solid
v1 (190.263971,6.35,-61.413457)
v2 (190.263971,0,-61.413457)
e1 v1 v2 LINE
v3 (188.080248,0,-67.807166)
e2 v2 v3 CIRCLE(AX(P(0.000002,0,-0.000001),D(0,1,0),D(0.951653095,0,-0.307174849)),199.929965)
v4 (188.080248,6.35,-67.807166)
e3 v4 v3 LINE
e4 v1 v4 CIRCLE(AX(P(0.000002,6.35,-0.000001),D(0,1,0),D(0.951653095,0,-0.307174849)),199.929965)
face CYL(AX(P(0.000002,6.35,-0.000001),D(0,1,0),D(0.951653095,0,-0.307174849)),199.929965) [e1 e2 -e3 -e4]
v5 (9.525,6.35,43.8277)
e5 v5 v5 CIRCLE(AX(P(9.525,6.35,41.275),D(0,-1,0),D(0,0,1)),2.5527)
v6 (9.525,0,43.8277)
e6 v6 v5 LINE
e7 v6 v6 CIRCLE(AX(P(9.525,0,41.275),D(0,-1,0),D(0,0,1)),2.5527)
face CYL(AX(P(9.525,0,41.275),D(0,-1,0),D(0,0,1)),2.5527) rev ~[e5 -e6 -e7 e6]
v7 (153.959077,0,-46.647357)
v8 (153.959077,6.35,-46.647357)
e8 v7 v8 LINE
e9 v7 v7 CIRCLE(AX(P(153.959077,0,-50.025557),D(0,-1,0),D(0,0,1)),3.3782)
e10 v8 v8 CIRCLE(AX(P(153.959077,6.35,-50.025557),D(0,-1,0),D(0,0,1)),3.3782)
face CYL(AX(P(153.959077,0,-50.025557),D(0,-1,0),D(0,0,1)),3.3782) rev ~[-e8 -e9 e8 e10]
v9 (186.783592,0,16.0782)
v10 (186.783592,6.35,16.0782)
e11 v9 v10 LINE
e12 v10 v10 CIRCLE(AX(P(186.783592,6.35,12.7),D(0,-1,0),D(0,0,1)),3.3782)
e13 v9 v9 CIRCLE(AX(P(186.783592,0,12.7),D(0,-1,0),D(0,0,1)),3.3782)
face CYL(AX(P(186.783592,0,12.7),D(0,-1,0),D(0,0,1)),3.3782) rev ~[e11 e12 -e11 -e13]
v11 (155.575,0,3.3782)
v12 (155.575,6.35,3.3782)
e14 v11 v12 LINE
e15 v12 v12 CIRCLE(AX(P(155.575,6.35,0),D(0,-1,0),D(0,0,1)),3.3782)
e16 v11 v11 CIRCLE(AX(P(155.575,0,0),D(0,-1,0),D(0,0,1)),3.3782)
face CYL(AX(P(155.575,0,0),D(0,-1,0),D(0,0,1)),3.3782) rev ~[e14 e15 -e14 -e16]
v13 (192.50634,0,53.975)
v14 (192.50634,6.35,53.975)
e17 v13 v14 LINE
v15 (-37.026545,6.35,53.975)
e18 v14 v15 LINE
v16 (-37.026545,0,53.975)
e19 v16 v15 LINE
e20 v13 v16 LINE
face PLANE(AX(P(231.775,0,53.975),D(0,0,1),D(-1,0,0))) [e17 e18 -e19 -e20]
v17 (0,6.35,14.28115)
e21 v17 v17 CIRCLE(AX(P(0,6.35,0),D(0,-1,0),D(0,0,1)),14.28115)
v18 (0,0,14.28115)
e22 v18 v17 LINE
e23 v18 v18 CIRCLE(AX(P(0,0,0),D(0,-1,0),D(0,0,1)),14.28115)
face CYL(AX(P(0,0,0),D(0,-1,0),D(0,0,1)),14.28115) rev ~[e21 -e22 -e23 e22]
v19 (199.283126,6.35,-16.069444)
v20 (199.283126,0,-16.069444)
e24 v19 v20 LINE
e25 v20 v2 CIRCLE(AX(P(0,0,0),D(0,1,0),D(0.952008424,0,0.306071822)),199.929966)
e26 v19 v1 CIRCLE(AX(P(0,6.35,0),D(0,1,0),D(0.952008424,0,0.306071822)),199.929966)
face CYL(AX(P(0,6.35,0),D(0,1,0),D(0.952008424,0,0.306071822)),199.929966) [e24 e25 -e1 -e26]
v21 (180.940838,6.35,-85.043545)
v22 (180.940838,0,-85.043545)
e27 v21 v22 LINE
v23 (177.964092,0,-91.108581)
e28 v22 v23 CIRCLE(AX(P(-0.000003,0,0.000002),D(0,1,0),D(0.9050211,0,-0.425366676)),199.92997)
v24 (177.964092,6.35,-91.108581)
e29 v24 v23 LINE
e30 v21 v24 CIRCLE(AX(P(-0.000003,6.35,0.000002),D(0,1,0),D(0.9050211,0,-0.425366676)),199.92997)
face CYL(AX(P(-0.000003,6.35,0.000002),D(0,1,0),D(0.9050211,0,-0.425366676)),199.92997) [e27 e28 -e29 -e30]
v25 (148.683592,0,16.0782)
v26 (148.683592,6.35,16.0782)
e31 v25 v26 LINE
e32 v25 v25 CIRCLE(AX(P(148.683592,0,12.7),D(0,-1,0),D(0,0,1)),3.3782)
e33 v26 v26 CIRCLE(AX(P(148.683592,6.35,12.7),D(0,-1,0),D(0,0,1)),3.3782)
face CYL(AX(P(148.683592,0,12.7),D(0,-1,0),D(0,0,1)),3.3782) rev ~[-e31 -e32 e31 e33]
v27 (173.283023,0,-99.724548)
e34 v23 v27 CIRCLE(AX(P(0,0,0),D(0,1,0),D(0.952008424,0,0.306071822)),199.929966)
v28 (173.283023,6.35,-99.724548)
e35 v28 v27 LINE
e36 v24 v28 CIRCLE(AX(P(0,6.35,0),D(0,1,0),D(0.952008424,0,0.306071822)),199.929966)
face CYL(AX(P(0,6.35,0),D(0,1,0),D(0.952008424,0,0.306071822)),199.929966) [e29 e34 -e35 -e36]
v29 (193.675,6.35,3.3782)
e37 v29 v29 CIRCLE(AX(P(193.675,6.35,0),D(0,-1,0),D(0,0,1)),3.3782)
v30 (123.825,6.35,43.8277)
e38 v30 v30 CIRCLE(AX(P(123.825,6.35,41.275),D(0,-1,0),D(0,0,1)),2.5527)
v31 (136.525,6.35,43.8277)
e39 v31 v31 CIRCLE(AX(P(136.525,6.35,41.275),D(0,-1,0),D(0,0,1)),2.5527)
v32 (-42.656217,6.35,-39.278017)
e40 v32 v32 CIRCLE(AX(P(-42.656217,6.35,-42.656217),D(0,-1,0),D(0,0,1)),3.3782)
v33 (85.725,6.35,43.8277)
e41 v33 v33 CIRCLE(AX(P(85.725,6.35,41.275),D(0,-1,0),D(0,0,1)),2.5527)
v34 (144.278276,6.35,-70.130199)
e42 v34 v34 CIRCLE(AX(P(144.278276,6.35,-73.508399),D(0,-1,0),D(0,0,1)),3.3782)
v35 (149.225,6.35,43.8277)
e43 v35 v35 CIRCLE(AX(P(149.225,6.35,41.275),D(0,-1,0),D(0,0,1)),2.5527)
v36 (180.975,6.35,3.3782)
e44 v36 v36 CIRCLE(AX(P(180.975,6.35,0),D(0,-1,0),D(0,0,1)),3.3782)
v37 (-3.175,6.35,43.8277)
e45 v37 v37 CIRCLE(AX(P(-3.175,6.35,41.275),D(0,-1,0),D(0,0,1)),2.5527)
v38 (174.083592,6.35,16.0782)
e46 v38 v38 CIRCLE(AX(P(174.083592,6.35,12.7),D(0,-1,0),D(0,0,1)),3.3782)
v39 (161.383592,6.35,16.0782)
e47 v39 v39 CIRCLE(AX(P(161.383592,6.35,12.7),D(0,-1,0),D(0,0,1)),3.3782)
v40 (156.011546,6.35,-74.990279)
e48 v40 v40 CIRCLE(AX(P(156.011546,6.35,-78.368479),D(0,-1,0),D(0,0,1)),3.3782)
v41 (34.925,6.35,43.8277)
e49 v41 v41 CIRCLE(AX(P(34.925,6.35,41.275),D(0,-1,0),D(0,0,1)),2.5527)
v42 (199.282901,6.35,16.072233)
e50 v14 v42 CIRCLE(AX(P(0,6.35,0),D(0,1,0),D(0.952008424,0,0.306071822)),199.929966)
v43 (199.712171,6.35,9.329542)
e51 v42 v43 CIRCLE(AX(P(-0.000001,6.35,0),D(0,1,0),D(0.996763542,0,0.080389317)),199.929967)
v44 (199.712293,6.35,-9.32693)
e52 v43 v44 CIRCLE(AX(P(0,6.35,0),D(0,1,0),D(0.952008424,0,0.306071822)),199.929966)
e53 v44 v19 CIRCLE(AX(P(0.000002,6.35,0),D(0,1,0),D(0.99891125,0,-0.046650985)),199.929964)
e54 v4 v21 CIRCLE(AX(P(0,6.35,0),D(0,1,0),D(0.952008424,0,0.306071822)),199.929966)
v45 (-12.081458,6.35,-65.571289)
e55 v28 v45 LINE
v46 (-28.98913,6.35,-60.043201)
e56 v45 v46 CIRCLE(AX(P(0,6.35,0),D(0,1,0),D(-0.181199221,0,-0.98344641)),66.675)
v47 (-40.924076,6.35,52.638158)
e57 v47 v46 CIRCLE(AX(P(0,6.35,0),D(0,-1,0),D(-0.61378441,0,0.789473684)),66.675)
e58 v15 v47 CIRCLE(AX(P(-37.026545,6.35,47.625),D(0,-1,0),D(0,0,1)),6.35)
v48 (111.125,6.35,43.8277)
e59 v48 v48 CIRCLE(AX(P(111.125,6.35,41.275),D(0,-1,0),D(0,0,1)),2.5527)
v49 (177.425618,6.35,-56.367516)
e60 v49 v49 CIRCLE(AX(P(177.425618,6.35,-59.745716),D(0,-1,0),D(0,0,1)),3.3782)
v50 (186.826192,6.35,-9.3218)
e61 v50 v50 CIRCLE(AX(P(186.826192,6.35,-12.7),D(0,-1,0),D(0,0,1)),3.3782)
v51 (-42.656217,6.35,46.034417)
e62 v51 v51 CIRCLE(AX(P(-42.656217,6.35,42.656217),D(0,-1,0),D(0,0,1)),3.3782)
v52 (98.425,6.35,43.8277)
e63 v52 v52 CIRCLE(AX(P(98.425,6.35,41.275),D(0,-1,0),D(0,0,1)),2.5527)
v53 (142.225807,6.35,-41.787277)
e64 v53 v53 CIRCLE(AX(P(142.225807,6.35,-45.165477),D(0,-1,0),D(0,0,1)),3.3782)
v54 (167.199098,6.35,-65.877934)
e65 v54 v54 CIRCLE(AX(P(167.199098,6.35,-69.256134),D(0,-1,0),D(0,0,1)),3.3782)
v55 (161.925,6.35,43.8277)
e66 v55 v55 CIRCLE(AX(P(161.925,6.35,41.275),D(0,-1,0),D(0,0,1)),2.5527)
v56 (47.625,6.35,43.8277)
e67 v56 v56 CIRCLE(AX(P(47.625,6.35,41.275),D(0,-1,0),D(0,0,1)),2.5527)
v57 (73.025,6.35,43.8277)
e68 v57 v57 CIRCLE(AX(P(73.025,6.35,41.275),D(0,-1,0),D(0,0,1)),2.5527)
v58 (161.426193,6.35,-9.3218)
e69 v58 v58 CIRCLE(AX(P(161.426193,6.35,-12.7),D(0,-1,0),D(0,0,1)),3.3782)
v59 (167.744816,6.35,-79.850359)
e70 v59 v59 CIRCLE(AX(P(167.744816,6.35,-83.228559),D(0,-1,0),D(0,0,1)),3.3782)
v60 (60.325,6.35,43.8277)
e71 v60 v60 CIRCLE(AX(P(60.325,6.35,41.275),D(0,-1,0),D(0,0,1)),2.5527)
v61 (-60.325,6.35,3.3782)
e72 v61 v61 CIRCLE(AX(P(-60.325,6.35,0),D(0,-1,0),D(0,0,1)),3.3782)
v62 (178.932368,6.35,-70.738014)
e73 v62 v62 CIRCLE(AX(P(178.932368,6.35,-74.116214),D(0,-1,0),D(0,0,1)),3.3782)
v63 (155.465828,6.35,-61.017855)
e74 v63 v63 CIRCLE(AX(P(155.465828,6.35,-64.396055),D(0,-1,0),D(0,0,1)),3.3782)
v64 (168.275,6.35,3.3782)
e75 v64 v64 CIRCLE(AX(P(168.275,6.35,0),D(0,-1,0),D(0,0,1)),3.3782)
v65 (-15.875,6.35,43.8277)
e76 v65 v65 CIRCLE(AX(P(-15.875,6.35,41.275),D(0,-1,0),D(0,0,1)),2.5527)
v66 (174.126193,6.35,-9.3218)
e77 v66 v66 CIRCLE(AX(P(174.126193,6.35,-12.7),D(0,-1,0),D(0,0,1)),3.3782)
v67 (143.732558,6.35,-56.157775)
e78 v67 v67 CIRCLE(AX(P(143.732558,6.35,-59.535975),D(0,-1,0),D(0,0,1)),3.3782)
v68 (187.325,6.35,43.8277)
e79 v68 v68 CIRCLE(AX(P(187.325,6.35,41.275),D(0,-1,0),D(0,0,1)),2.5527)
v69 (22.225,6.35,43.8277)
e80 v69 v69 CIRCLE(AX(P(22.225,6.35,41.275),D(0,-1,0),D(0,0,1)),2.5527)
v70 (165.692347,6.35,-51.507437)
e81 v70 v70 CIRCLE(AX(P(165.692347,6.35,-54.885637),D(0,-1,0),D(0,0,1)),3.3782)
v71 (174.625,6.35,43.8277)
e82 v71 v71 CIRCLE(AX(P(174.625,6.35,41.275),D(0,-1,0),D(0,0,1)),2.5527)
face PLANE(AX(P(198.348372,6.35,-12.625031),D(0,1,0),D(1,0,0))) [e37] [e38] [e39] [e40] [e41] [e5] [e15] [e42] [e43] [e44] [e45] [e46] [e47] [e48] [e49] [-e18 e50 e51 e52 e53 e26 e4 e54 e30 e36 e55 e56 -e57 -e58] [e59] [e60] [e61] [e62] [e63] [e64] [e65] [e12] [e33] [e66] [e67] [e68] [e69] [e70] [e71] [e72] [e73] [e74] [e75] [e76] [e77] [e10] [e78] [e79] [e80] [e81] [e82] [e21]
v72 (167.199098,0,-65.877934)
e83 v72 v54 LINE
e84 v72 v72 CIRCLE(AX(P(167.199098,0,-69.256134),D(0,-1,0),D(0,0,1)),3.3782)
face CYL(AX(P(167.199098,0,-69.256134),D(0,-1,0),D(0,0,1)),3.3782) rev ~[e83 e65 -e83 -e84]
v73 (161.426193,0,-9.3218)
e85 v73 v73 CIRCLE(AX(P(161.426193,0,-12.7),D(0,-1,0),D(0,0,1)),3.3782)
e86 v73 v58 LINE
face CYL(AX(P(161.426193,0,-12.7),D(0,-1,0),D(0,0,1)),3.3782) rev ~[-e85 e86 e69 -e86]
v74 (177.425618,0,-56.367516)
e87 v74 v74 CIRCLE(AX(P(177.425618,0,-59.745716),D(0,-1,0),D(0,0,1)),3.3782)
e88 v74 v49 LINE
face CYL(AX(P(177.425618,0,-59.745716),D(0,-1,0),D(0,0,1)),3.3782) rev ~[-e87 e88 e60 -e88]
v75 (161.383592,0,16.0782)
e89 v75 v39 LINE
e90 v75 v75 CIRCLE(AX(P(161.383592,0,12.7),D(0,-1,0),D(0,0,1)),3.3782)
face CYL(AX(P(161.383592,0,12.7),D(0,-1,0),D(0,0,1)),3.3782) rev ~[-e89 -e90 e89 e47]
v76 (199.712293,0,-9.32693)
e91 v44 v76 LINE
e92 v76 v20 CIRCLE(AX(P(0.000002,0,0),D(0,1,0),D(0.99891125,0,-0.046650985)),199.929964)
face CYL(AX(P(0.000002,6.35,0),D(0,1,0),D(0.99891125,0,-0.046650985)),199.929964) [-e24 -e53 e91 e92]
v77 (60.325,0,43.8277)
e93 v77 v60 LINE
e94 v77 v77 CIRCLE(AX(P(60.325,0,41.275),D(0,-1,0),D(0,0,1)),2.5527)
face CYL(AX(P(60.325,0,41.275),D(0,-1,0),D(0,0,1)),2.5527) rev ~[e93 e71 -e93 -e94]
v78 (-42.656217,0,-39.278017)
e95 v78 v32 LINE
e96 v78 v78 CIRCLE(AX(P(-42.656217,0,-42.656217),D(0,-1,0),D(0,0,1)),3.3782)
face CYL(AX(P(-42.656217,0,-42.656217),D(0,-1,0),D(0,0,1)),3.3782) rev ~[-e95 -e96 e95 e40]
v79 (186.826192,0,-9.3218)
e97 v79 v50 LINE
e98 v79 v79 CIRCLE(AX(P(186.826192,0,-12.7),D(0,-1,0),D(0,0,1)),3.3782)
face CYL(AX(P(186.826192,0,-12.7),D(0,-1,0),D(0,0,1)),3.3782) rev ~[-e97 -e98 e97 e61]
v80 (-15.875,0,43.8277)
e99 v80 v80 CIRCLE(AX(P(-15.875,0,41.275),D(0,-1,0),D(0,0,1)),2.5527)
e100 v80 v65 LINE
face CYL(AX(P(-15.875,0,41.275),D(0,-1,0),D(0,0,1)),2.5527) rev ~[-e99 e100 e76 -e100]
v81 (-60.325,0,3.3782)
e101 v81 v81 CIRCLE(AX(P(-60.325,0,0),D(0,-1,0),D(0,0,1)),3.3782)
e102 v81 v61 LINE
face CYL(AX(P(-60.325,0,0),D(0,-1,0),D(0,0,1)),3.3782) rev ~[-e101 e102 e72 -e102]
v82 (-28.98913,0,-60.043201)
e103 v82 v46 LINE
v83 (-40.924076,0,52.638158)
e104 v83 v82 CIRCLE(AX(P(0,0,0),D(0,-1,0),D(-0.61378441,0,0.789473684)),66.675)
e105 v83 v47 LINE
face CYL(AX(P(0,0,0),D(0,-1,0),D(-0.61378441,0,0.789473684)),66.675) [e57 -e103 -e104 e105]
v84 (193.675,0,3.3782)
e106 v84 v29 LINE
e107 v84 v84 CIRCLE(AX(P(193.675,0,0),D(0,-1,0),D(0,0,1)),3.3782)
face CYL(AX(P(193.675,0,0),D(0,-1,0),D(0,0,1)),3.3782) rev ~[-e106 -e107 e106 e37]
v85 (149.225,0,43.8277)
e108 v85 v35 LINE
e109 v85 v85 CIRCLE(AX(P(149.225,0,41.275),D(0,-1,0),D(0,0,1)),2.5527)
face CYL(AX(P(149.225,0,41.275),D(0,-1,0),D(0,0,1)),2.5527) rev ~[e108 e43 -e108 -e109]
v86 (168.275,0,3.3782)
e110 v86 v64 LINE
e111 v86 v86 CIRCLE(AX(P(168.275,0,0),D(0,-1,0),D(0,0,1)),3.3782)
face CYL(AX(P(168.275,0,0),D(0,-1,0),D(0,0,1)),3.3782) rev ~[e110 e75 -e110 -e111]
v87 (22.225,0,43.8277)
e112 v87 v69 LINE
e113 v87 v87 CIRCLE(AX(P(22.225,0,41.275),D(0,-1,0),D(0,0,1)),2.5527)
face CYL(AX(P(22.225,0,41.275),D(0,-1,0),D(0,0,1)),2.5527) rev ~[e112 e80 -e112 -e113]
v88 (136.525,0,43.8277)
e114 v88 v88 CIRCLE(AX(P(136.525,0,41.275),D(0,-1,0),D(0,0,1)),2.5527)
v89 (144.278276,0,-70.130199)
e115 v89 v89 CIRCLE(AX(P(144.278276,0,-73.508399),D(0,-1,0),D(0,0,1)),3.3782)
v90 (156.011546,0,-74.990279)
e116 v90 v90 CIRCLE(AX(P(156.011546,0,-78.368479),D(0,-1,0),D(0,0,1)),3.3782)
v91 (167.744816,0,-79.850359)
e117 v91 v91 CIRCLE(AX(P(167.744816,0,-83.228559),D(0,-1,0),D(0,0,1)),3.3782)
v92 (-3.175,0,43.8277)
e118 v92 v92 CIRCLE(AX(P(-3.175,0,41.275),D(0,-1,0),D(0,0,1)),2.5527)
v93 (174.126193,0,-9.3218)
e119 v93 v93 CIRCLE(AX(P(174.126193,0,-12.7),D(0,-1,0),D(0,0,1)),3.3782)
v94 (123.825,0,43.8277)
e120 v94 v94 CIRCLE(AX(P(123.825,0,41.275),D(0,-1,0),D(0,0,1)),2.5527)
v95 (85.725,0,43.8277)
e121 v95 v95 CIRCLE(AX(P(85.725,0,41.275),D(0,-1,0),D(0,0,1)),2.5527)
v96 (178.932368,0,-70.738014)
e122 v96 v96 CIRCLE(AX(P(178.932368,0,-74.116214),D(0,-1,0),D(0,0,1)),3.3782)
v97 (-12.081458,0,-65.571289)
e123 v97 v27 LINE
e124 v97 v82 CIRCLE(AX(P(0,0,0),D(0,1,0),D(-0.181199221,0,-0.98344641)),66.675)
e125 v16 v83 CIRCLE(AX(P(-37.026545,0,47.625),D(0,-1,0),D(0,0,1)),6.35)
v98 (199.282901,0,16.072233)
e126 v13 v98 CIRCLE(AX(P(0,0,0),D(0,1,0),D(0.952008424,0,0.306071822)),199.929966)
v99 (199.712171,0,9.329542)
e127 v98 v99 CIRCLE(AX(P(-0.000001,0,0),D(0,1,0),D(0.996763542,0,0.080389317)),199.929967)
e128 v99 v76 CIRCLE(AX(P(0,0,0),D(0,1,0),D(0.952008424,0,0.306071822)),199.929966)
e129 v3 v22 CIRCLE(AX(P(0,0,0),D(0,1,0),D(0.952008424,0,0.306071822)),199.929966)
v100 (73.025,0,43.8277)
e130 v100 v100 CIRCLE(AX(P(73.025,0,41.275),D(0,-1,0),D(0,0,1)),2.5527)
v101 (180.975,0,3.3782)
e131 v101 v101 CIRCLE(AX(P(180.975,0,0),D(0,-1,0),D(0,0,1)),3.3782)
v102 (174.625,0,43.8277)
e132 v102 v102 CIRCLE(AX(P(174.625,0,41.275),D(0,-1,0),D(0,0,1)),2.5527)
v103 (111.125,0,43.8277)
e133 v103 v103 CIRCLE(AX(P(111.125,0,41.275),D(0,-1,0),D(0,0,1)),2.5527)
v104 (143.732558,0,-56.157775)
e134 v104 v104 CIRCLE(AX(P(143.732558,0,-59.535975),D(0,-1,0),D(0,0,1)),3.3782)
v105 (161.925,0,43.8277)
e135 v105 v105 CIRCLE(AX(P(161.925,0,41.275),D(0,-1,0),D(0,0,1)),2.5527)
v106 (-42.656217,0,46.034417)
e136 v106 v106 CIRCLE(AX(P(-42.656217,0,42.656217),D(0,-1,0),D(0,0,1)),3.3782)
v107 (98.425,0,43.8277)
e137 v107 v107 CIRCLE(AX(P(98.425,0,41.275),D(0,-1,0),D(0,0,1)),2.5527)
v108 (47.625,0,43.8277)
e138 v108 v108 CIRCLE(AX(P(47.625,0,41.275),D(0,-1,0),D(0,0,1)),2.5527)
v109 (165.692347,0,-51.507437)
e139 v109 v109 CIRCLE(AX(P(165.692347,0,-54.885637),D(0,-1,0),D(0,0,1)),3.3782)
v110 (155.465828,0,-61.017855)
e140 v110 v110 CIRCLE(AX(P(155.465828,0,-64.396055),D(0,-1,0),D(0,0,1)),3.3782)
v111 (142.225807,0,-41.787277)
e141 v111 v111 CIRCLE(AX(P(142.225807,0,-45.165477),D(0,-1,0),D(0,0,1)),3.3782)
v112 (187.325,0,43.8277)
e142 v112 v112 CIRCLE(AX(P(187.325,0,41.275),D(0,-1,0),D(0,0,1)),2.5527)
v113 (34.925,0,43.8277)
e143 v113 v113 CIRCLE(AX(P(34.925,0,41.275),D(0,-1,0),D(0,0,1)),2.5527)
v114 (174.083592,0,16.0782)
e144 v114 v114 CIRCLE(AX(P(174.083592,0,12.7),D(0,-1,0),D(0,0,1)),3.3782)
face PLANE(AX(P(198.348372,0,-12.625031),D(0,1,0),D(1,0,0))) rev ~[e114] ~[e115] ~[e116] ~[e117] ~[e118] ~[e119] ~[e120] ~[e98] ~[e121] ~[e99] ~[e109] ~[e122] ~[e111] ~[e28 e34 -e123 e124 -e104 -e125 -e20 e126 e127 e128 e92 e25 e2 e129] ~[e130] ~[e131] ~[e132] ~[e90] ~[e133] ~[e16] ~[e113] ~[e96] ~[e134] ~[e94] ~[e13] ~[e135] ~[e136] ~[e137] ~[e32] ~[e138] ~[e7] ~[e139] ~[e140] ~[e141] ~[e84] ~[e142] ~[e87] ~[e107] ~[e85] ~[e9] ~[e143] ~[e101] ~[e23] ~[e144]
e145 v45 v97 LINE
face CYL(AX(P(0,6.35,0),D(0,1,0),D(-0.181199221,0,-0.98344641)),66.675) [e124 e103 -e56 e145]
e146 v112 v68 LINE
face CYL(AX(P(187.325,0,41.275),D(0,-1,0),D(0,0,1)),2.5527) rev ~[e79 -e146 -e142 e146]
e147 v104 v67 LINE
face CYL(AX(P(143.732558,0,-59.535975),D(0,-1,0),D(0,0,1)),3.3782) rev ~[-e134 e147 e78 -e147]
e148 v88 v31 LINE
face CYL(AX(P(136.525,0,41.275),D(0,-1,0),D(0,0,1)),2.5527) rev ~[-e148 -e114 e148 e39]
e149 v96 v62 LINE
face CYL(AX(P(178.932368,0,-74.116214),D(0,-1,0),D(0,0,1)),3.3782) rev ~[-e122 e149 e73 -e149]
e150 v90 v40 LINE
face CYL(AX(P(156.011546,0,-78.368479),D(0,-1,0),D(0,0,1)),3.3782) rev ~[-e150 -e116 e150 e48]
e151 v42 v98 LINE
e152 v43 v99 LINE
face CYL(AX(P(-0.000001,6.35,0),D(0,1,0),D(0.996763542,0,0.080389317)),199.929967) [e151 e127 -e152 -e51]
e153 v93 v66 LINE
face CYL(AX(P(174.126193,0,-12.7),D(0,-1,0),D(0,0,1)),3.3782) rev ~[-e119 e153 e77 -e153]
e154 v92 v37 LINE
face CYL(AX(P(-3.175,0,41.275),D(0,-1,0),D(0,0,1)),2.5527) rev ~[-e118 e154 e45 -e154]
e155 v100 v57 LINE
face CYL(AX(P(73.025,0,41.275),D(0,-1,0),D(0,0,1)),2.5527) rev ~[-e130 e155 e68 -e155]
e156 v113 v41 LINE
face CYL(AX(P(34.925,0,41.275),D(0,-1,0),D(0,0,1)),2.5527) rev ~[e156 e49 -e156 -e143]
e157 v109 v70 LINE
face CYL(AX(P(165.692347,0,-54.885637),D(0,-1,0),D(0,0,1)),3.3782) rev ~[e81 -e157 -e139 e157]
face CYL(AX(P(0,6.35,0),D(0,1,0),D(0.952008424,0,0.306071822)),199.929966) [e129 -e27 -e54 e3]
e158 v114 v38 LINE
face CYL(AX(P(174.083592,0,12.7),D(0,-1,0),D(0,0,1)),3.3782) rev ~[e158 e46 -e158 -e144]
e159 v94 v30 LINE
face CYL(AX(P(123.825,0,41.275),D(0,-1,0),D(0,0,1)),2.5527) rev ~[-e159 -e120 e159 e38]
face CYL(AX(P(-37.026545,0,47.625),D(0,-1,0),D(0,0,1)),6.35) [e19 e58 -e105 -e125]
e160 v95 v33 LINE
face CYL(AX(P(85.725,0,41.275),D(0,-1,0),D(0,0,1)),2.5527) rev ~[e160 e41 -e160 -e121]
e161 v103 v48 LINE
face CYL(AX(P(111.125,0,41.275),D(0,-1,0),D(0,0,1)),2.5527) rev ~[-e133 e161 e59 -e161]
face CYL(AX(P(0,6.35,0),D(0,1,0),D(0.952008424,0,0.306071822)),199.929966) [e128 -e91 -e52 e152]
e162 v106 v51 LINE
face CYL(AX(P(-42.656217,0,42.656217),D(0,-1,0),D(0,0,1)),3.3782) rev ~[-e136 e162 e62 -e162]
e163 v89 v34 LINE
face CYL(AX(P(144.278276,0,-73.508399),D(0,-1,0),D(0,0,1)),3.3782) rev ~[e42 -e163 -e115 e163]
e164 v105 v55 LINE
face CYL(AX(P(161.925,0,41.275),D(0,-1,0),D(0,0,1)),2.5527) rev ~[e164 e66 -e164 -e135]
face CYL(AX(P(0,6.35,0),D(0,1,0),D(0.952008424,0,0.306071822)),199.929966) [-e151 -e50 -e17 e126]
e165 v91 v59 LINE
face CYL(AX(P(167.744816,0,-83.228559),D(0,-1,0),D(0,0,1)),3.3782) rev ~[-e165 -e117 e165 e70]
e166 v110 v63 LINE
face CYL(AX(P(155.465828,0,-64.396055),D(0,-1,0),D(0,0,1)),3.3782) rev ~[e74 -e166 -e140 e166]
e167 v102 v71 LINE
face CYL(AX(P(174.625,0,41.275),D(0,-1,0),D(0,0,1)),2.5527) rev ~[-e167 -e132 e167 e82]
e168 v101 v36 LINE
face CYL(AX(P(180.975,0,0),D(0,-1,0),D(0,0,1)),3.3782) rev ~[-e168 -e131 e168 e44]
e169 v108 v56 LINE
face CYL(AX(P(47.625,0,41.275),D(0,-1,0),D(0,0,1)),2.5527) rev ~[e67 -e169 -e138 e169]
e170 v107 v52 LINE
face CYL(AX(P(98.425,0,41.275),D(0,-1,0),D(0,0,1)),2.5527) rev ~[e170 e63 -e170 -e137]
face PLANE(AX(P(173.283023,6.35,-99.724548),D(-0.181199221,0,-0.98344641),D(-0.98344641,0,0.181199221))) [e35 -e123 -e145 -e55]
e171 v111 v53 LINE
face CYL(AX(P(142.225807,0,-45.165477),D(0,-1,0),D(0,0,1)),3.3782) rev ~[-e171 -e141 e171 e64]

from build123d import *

# Parameters (mm, degrees)
SKETCH1_R           = 3.3782
SKETCH1_R_2         = 14.28115
SKETCH1_R_3         = 2.5527
SKETCH1_R_4         = 9.5885
SKETCH1_R_5         = 19.177
SKETCH1_R_6         = 4.1275
BOSS_EXTRUDE1_DEPTH = 6.35
SKETCH2_R           = 19.177
SKETCH2_R_2         = 2.5527
SKETCH2_R_3         = 4.1275
SKETCH2_R_4         = 9.5885
BOSS_EXTRUDE2_DEPTH = 6.35
CUT_EXTRUDE1_DEPTH  = 337.819467594
BOSS_EXTRUDE3_DEPTH = 6.35


with BuildPart() as part:
    # Sketch1 → Boss-Extrude1 (new body)
    with BuildSketch(Plane.XZ):
        with BuildLine():
            Line((231.775, 53.975), (-37.026544532, 53.975))
            ThreePointArc((-37.026544532, 53.975), (-39.086756581, 53.631498674), (-40.924075536, 52.638157895))
            ThreePointArc((-40.924075536, 52.638157895), (-66.304119268, -7.022776738), (-28.989130435, -60.043200628))
            ThreePointArc((-28.989130435, -60.043200628), (-26.371616333, -62.385880153), (-25.4, -65.761600688))
            Line((-25.4, -65.761600688), (-25.4, -230.990796624))
            ThreePointArc((-25.4, -230.990796624), (-23.721010495, -235.292442932), (-19.571917808, -237.3193116))
            ThreePointArc((-19.571917808, -237.3193116), (161.311736549, -175.162893549), (238.125, 0))
            Line((238.125, 0), (238.125, 47.625))
            ThreePointArc((238.125, 47.625), (236.265128061, 52.115128061), (231.775, 53.975))
        make_face()
        with Locations(Location((-60.325, 0, 0), (0, 0, 90))):
            Circle(SKETCH1_R, mode=Mode.SUBTRACT)
        with Locations(Location((-42.656216575, 42.656216575, 0), (0, 0, 90))):
            Circle(SKETCH1_R, mode=Mode.SUBTRACT)
        with Locations(Location((-42.656216575, -42.656216575, 0), (0, 0, 90))):
            Circle(SKETCH1_R, mode=Mode.SUBTRACT)
        with Locations(Location((0, -155.575, 0), (0, 0, 90))):
            Circle(SKETCH1_R, mode=Mode.SUBTRACT)
        with Locations(Location((0, -168.275, 0), (0, 0, 90))):
            Circle(SKETCH1_R, mode=Mode.SUBTRACT)
        with Locations(Location((0, -180.975, 0), (0, 0, 90))):
            Circle(SKETCH1_R, mode=Mode.SUBTRACT)
        with Locations(Location((0, -193.675, 0), (0, 0, 90))):
            Circle(SKETCH1_R, mode=Mode.SUBTRACT)
        with Locations(Location((0, -206.375, 0), (0, 0, 90))):
            Circle(SKETCH1_R, mode=Mode.SUBTRACT)
        with Locations(Location((0, -219.075, 0), (0, 0, 90))):
            Circle(SKETCH1_R, mode=Mode.SUBTRACT)
        with Locations(Location((59.53597499, -143.73255827, 0), (0, 0, 90))):
            Circle(SKETCH1_R, mode=Mode.SUBTRACT)
        with Locations(Location((64.396054581, -155.465828333, 0), (0, 0, 90))):
            Circle(SKETCH1_R, mode=Mode.SUBTRACT)
        with Locations(Location((69.256134172, -167.199098396, 0), (0, 0, 90))):
            Circle(SKETCH1_R, mode=Mode.SUBTRACT)
        with Locations(Location((74.116213763, -178.932368459, 0), (0, 0, 90))):
            Circle(SKETCH1_R, mode=Mode.SUBTRACT)
        with Locations(Location((78.976293354, -190.665638522, 0), (0, 0, 90))):
            Circle(SKETCH1_R, mode=Mode.SUBTRACT)
        with Locations(Location((83.836372945, -202.398908585, 0), (0, 0, 90))):
            Circle(SKETCH1_R, mode=Mode.SUBTRACT)
        with Locations(Location((110.008137483, -110.008137483, 0), (0, 0, 90))):
            Circle(SKETCH1_R, mode=Mode.SUBTRACT)
        with Locations(Location((118.988393604, -118.988393604, 0), (0, 0, 90))):
            Circle(SKETCH1_R, mode=Mode.SUBTRACT)
        with Locations(Location((127.968649725, -127.968649725, 0), (0, 0, 90))):
            Circle(SKETCH1_R, mode=Mode.SUBTRACT)
        with Locations(Location((136.948905846, -136.948905846, 0), (0, 0, 90))):
            Circle(SKETCH1_R, mode=Mode.SUBTRACT)
        with Locations(Location((145.929161967, -145.929161967, 0), (0, 0, 90))):
            Circle(SKETCH1_R, mode=Mode.SUBTRACT)
        with Locations(Location((154.909418088, -154.909418088, 0), (0, 0, 90))):
            Circle(SKETCH1_R, mode=Mode.SUBTRACT)
        with Locations(Location((143.73255827, -59.53597499, 0), (0, 0, 90))):
            Circle(SKETCH1_R, mode=Mode.SUBTRACT)
        with Locations(Location((155.465828333, -64.396054581, 0), (0, 0, 90))):
            Circle(SKETCH1_R, mode=Mode.SUBTRACT)
        with Locations(Location((167.199098396, -69.256134172, 0), (0, 0, 90))):
            Circle(SKETCH1_R, mode=Mode.SUBTRACT)
        with Locations(Location((178.932368459, -74.116213763, 0), (0, 0, 90))):
            Circle(SKETCH1_R, mode=Mode.SUBTRACT)
        with Locations(Location((190.665638522, -78.976293354, 0), (0, 0, 90))):
            Circle(SKETCH1_R, mode=Mode.SUBTRACT)
        with Locations(Location((202.398908585, -83.836372945, 0), (0, 0, 90))):
            Circle(SKETCH1_R, mode=Mode.SUBTRACT)
        with Locations(Location((155.575, 0, 0), (0, 0, 90))):
            Circle(SKETCH1_R, mode=Mode.SUBTRACT)
        with Locations(Location((168.275, 0, 0), (0, 0, 90))):
            Circle(SKETCH1_R, mode=Mode.SUBTRACT)
        with Locations(Location((180.975, 0, 0), (0, 0, 90))):
            Circle(SKETCH1_R, mode=Mode.SUBTRACT)
        with Locations(Location((193.675, 0, 0), (0, 0, 90))):
            Circle(SKETCH1_R, mode=Mode.SUBTRACT)
        with Locations(Location((206.375, 0, 0), (0, 0, 90))):
            Circle(SKETCH1_R, mode=Mode.SUBTRACT)
        with Locations(Location((219.075, 0, 0), (0, 0, 90))):
            Circle(SKETCH1_R, mode=Mode.SUBTRACT)
        with Locations(Location((0, 0, 0), (0, 0, 90))):
            Circle(SKETCH1_R_2, mode=Mode.SUBTRACT)
        with Locations(Location((148.683592319, 12.7, 0), (0, 0, 90))):
            Circle(SKETCH1_R, mode=Mode.SUBTRACT)
        with Locations(Location((141.086323741, -159.046835983, 0), (0, 0, 90))):
            Circle(SKETCH1_R, mode=Mode.SUBTRACT)
        with Locations(Location((150.036456986, -132.075944743, 0), (0, 0, 90))):
            Circle(SKETCH1_R, mode=Mode.SUBTRACT)
        with Locations(Location((150.066579862, -168.027092104, 0), (0, 0, 90))):
            Circle(SKETCH1_R, mode=Mode.SUBTRACT)
        with Locations(Location((159.016713107, -141.056200864, 0), (0, 0, 90))):
            Circle(SKETCH1_R, mode=Mode.SUBTRACT)
        with Locations(Location((-12.7, -186.8261925, 0), (0, 0, 90))):
            Circle(SKETCH1_R, mode=Mode.SUBTRACT)
        with Locations(Location((12.7, -174.083592319, 0), (0, 0, 90))):
            Circle(SKETCH1_R, mode=Mode.SUBTRACT)
        with Locations(Location((-12.7, -199.5261925, 0), (0, 0, 90))):
            Circle(SKETCH1_R, mode=Mode.SUBTRACT)
        with Locations(Location((12.7, -186.783592319, 0), (0, 0, 90))):
            Circle(SKETCH1_R, mode=Mode.SUBTRACT)
        with Locations(Location((-12.7, -212.2261925, 0), (0, 0, 90))):
            Circle(SKETCH1_R, mode=Mode.SUBTRACT)
        with Locations(Location((12.7, -199.483592319, 0), (0, 0, 90))):
            Circle(SKETCH1_R, mode=Mode.SUBTRACT)
        with Locations(Location((-12.7, -224.9261925, 0), (0, 0, 90))):
            Circle(SKETCH1_R, mode=Mode.SUBTRACT)
        with Locations(Location((12.7, -212.183592319, 0), (0, 0, 90))):
            Circle(SKETCH1_R, mode=Mode.SUBTRACT)
        with Locations(Location((69.482177721, -200.931515104, 0), (0, 0, 90))):
            Circle(SKETCH1_R, mode=Mode.SUBTRACT)
        with Locations(Location((88.072335872, -179.438728425, 0), (0, 0, 90))):
            Circle(SKETCH1_R, mode=Mode.SUBTRACT)
        with Locations(Location((74.342257312, -212.664785167, 0), (0, 0, 90))):
            Circle(SKETCH1_R, mode=Mode.SUBTRACT)
        with Locations(Location((92.932415463, -191.171998488, 0), (0, 0, 90))):
            Circle(SKETCH1_R, mode=Mode.SUBTRACT)
        with Locations(Location((50.041859357, -153.998434853, 0), (0, 0, 90))):
            Circle(SKETCH1_R, mode=Mode.SUBTRACT)
        with Locations(Location((68.632017508, -132.505648173, 0), (0, 0, 90))):
            Circle(SKETCH1_R, mode=Mode.SUBTRACT)
        with Locations(Location((54.901938948, -165.731704916, 0), (0, 0, 90))):
            Circle(SKETCH1_R, mode=Mode.SUBTRACT)
        with Locations(Location((73.492097099, -144.238918236, 0), (0, 0, 90))):
            Circle(SKETCH1_R, mode=Mode.SUBTRACT)
        with Locations(Location((59.762018539, -177.464974979, 0), (0, 0, 90))):
            Circle(SKETCH1_R, mode=Mode.SUBTRACT)
        with Locations(Location((78.35217669, -155.972188299, 0), (0, 0, 90))):
            Circle(SKETCH1_R, mode=Mode.SUBTRACT)
        with Locations(Location((64.62209813, -189.198245042, 0), (0, 0, 90))):
            Circle(SKETCH1_R, mode=Mode.SUBTRACT)
        with Locations(Location((83.212256281, -167.705458362, 0), (0, 0, 90))):
            Circle(SKETCH1_R, mode=Mode.SUBTRACT)
        with Locations(Location((123.125811499, -141.086323741, 0), (0, 0, 90))):
            Circle(SKETCH1_R, mode=Mode.SUBTRACT)
        with Locations(Location((132.075944743, -114.115432501, 0), (0, 0, 90))):
            Circle(SKETCH1_R, mode=Mode.SUBTRACT)
        with Locations(Location((132.10606762, -150.066579862, 0), (0, 0, 90))):
            Circle(SKETCH1_R, mode=Mode.SUBTRACT)
        with Locations(Location((141.056200864, -123.095688622, 0), (0, 0, 90))):
            Circle(SKETCH1_R, mode=Mode.SUBTRACT)
        with Locations(Location((200.89215767, -69.465875337, 0), (0, 0, 90))):
            Circle(SKETCH1_R, mode=Mode.SUBTRACT)
        with Locations(Location((202.944625985, -97.808797438, 0), (0, 0, 90))):
            Circle(SKETCH1_R, mode=Mode.SUBTRACT)
        with Locations(Location((189.158887607, -64.605795746, 0), (0, 0, 90))):
            Circle(SKETCH1_R, mode=Mode.SUBTRACT)
        with Locations(Location((191.211355922, -92.948717847, 0), (0, 0, 90))):
            Circle(SKETCH1_R, mode=Mode.SUBTRACT)
        with Locations(Location((105.165299257, -123.125811499, 0), (0, 0, 90))):
            Circle(SKETCH1_R, mode=Mode.SUBTRACT)
        with Locations(Location((114.115432501, -96.154920259, 0), (0, 0, 90))):
            Circle(SKETCH1_R, mode=Mode.SUBTRACT)
        with Locations(Location((114.145555378, -132.10606762, 0), (0, 0, 90))):
            Circle(SKETCH1_R, mode=Mode.SUBTRACT)
        with Locations(Location((123.095688622, -105.13517638, 0), (0, 0, 90))):
            Circle(SKETCH1_R, mode=Mode.SUBTRACT)
        with Locations(Location((153.959077418, -50.025556973, 0), (0, 0, 90))):
            Circle(SKETCH1_R, mode=Mode.SUBTRACT)
        with Locations(Location((156.011545734, -78.368479073, 0), (0, 0, 90))):
            Circle(SKETCH1_R, mode=Mode.SUBTRACT)
        with Locations(Location((142.225807355, -45.165477382, 0), (0, 0, 90))):
            Circle(SKETCH1_R, mode=Mode.SUBTRACT)
        with Locations(Location((144.278275671, -73.508399482, 0), (0, 0, 90))):
            Circle(SKETCH1_R, mode=Mode.SUBTRACT)
        with Locations(Location((177.425617544, -59.745716155, 0), (0, 0, 90))):
            Circle(SKETCH1_R, mode=Mode.SUBTRACT)
        with Locations(Location((179.478085859, -88.088638255, 0), (0, 0, 90))):
            Circle(SKETCH1_R, mode=Mode.SUBTRACT)
        with Locations(Location((165.692347481, -54.885636564, 0), (0, 0, 90))):
            Circle(SKETCH1_R, mode=Mode.SUBTRACT)
        with Locations(Location((167.744815797, -83.228558664, 0), (0, 0, 90))):
            Circle(SKETCH1_R, mode=Mode.SUBTRACT)
        with Locations(Location((-12.7, -161.4261925, 0), (0, 0, 90))):
            Circle(SKETCH1_R, mode=Mode.SUBTRACT)
        with Locations(Location((12.7, -148.683592319, 0), (0, 0, 90))):
            Circle(SKETCH1_R, mode=Mode.SUBTRACT)
        with Locations(Location((-12.7, -174.1261925, 0), (0, 0, 90))):
            Circle(SKETCH1_R, mode=Mode.SUBTRACT)
        with Locations(Location((12.7, -161.383592319, 0), (0, 0, 90))):
            Circle(SKETCH1_R, mode=Mode.SUBTRACT)
        with Locations(Location((186.8261925, -12.7, 0), (0, 0, 90))):
            Circle(SKETCH1_R, mode=Mode.SUBTRACT)
        with Locations(Location((174.083592319, 12.7, 0), (0, 0, 90))):
            Circle(SKETCH1_R, mode=Mode.SUBTRACT)
        with Locations(Location((199.5261925, -12.7, 0), (0, 0, 90))):
            Circle(SKETCH1_R, mode=Mode.SUBTRACT)
        with Locations(Location((186.783592319, 12.7, 0), (0, 0, 90))):
            Circle(SKETCH1_R, mode=Mode.SUBTRACT)
        with Locations(Location((212.2261925, -12.7, 0), (0, 0, 90))):
            Circle(SKETCH1_R, mode=Mode.SUBTRACT)
        with Locations(Location((199.483592319, 12.7, 0), (0, 0, 90))):
            Circle(SKETCH1_R, mode=Mode.SUBTRACT)
        with Locations(Location((224.9261925, -12.7, 0), (0, 0, 90))):
            Circle(SKETCH1_R, mode=Mode.SUBTRACT)
        with Locations(Location((212.183592319, 12.7, 0), (0, 0, 90))):
            Circle(SKETCH1_R, mode=Mode.SUBTRACT)
        with Locations(Location((161.4261925, -12.7, 0), (0, 0, 90))):
            Circle(SKETCH1_R, mode=Mode.SUBTRACT)
        with Locations(Location((174.1261925, -12.7, 0), (0, 0, 90))):
            Circle(SKETCH1_R, mode=Mode.SUBTRACT)
        with Locations(Location((161.383592319, 12.7, 0), (0, 0, 90))):
            Circle(SKETCH1_R, mode=Mode.SUBTRACT)
        with Locations(Location((225.425, 41.275, 0), (0, 0, 90))):
            Circle(SKETCH1_R_3, mode=Mode.SUBTRACT)
        with Locations(Location((212.725, 41.275, 0), (0, 0, 90))):
            Circle(SKETCH1_R_3, mode=Mode.SUBTRACT)
        with Locations(Location((200.025, 41.275, 0), (0, 0, 90))):
            Circle(SKETCH1_R_3, mode=Mode.SUBTRACT)
        with Locations(Location((187.325, 41.275, 0), (0, 0, 90))):
            Circle(SKETCH1_R_3, mode=Mode.SUBTRACT)
        with Locations(Location((174.625, 41.275, 0), (0, 0, 90))):
            Circle(SKETCH1_R_3, mode=Mode.SUBTRACT)
        with Locations(Location((161.925, 41.275, 0), (0, 0, 90))):
            Circle(SKETCH1_R_3, mode=Mode.SUBTRACT)
        with Locations(Location((149.225, 41.275, 0), (0, 0, 90))):
            Circle(SKETCH1_R_3, mode=Mode.SUBTRACT)
        with Locations(Location((136.525, 41.275, 0), (0, 0, 90))):
            Circle(SKETCH1_R_3, mode=Mode.SUBTRACT)
        with Locations(Location((123.825, 41.275, 0), (0, 0, 90))):
            Circle(SKETCH1_R_3, mode=Mode.SUBTRACT)
        with Locations(Location((111.125, 41.275, 0), (0, 0, 90))):
            Circle(SKETCH1_R_3, mode=Mode.SUBTRACT)
        with Locations(Location((98.425, 41.275, 0), (0, 0, 90))):
            Circle(SKETCH1_R_3, mode=Mode.SUBTRACT)
        with Locations(Location((73.025, 41.275, 0), (0, 0, 90))):
            Circle(SKETCH1_R_3, mode=Mode.SUBTRACT)
        with Locations(Location((85.725, 41.275, 0), (0, 0, 90))):
            Circle(SKETCH1_R_3, mode=Mode.SUBTRACT)
        with Locations(Location((60.325, 41.275, 0), (0, 0, 90))):
            Circle(SKETCH1_R_3, mode=Mode.SUBTRACT)
        with Locations(Location((47.625, 41.275, 0), (0, 0, 90))):
            Circle(SKETCH1_R_3, mode=Mode.SUBTRACT)
        with Locations(Location((34.925, 41.275, 0), (0, 0, 90))):
            Circle(SKETCH1_R_3, mode=Mode.SUBTRACT)
        with Locations(Location((22.225, 41.275, 0), (0, 0, 90))):
            Circle(SKETCH1_R_3, mode=Mode.SUBTRACT)
        with Locations(Location((9.525, 41.275, 0), (0, 0, 90))):
            Circle(SKETCH1_R_3, mode=Mode.SUBTRACT)
        with Locations(Location((-3.175, 41.275, 0), (0, 0, 90))):
            Circle(SKETCH1_R_3, mode=Mode.SUBTRACT)
        with Locations(Location((-15.875, 41.275, 0), (0, 0, 90))):
            Circle(SKETCH1_R_3, mode=Mode.SUBTRACT)
        with Locations(Location((-17.960512242, 17.960512242, 0), (0, 0, 90))):
            Circle(SKETCH1_R_3, mode=Mode.SUBTRACT)
        with Locations(Location((-17.960512242, -17.960512242, 0), (0, 0, 90))):
            Circle(SKETCH1_R_3, mode=Mode.SUBTRACT)
        with Locations(Location((17.960512242, -17.960512242, 0), (0, 0, 90))):
            Circle(SKETCH1_R_3, mode=Mode.SUBTRACT)
        with Locations(Location((17.960512242, 17.960512242, 0), (0, 0, 90))):
            Circle(SKETCH1_R_3, mode=Mode.SUBTRACT)
        with Locations(Location((52.114561305, -6.35, 0), (0, 0, 90))):
            Circle(SKETCH1_R_4, mode=Mode.SUBTRACT)
        with Locations(Location((70.075073547, 11.610512242, 0), (0, 0, 90))):
            Circle(SKETCH1_R_3, mode=Mode.SUBTRACT)
        with Locations(Location((-17.960512242, -34.539487758, 0), (0, 0, 90))):
            Circle(SKETCH1_R_3, mode=Mode.SUBTRACT)
        with Locations(Location((17.960512242, -70.460512242, 0), (0, 0, 90))):
            Circle(SKETCH1_R_3, mode=Mode.SUBTRACT)
        with Locations(Location((70.075073547, -24.310512242, 0), (0, 0, 90))):
            Circle(SKETCH1_R_3, mode=Mode.SUBTRACT)
        with Locations(Location((34.154049063, -24.310512242, 0), (0, 0, 90))):
            Circle(SKETCH1_R_3, mode=Mode.SUBTRACT)
        with Locations(Location((34.154049063, 11.610512242, 0), (0, 0, 90))):
            Circle(SKETCH1_R_3, mode=Mode.SUBTRACT)
        with Locations(Location((0, -52.5, 0), (0, 0, 90))):
            Circle(SKETCH1_R_5, mode=Mode.SUBTRACT)
        with Locations(Location((-17.960512242, -70.460512242, 0), (0, 0, 90))):
            Circle(SKETCH1_R_6, mode=Mode.SUBTRACT)
        with Locations(Location((17.960512242, -34.539487758, 0), (0, 0, 90))):
            Circle(SKETCH1_R_6, mode=Mode.SUBTRACT)
    extrude(amount=-BOSS_EXTRUDE1_DEPTH)

    # Sketch2 → Boss-Extrude2 (add, through all)
    with BuildSketch(Plane(origin=(0, 6.35, 0), x_dir=(1, 0, 0), z_dir=(0, 1, 0))):
        with Locations((0, 52.5)):
            Circle(SKETCH2_R)
        with Locations((17.960512242, 70.460512242)):
            Circle(SKETCH2_R_2)
        with Locations((17.960512242, 34.539487758)):
            Circle(SKETCH2_R_3)
        with Locations((-17.960512242, 34.539487758)):
            Circle(SKETCH2_R_2)
        with Locations((-17.960512242, 70.460512242)):
            Circle(SKETCH2_R_3)
        with Locations((34.154049063, -11.610512242)):
            Circle(SKETCH2_R_2)
        with Locations((52.114561305, 6.35)):
            Circle(SKETCH2_R_4)
        with Locations((34.154049063, 24.310512242)):
            Circle(SKETCH2_R_2)
        with Locations((70.075073547, 24.310512242)):
            Circle(SKETCH2_R_2)
        with Locations((70.075073547, -11.610512242)):
            Circle(SKETCH2_R_2)
        with Locations((17.960512242, -17.960512242)):
            Circle(SKETCH2_R_2)
        with Locations((-17.960512242, -17.960512242)):
            Circle(SKETCH2_R_2)
        with Locations((-17.960512242, 17.960512242)):
            Circle(SKETCH2_R_2)
        with Locations((17.960512242, 17.960512242)):
            Circle(SKETCH2_R_2)
    extrude(amount=-BOSS_EXTRUDE2_DEPTH)

    # Sketch3 → Cut-Extrude1 (cut, through all)
    with BuildSketch(Plane(origin=(0, 6.35, 0), x_dir=(1, 0, 0), z_dir=(0, 1, 0))):
        with BuildLine():
            Line((-28.989130435, 60.043200628), (-28.989130435, 240.201050618))
            Line((-28.989130435, 240.201050618), (143.888334306, 240.201050618))
            Line((143.888334306, 240.201050618), (143.888334306, 195.6215824))
            ThreePointArc((143.888334306, 195.6215824), (221.363286109, 99.849646033), (241.876866839, -21.615678064))
            Line((241.876866839, -21.615678064), (241.876866839, -61.19292902))
            Line((241.876866839, -61.19292902), (235.004429082, -61.19292902))
            Line((235.004429082, -61.19292902), (190.335012364, -61.19292902))
            ThreePointArc((190.335012364, -61.19292902), (198.816818934, 21.068080183), (173.283022861, 99.72454804))
            Line((173.283022861, 99.72454804), (-12.081458079, 65.571289416))
            ThreePointArc((-12.081458079, 65.571289416), (-20.720479039, 63.373633109), (-28.989130435, 60.043200628))
        make_face()
    extrude(amount=-CUT_EXTRUDE1_DEPTH, mode=Mode.SUBTRACT)

    # Sketch4 → Boss-Extrude3 (add)
    with BuildSketch(Plane(origin=(0, 6.35, 0), x_dir=(1, 0, 0), z_dir=(0, 1, 0))):
        with BuildLine():
            ThreePointArc((199.712292742, 9.326929894), (199.5261925, 12.7), (199.283126373, 16.069444182))
            ThreePointArc((199.283126373, 16.069444182), (196.154815035, 12.485409157), (199.712292742, 9.326929894))
        make_face()
        with BuildLine():
            ThreePointArc((188.080248089, 67.807166083), (185.962005828, 63.513924813), (190.263971279, 61.413457212))
            ThreePointArc((190.263971279, 61.413457212), (189.199119873, 64.619536774), (188.080248089, 67.807166083))
        make_face()
        with BuildLine():
            ThreePointArc((180.94083811, 85.043545302), (179.478085859, 88.088638255), (177.964091575, 91.108581392))
            ThreePointArc((177.964091575, 91.108581392), (176.445459584, 86.600211868), (180.94083811, 85.043545302))
        make_face()
        with BuildLine():
            ThreePointArc((199.282901438, -16.072233445), (199.52602055, -12.702701167), (199.712170735, -9.329541997))
            ThreePointArc((199.712170735, -9.329541997), (196.11221776, -12.485363516), (199.282901438, -16.072233445))
        make_face()
    extrude(amount=-BOSS_EXTRUDE3_DEPTH)


solid = part.part
